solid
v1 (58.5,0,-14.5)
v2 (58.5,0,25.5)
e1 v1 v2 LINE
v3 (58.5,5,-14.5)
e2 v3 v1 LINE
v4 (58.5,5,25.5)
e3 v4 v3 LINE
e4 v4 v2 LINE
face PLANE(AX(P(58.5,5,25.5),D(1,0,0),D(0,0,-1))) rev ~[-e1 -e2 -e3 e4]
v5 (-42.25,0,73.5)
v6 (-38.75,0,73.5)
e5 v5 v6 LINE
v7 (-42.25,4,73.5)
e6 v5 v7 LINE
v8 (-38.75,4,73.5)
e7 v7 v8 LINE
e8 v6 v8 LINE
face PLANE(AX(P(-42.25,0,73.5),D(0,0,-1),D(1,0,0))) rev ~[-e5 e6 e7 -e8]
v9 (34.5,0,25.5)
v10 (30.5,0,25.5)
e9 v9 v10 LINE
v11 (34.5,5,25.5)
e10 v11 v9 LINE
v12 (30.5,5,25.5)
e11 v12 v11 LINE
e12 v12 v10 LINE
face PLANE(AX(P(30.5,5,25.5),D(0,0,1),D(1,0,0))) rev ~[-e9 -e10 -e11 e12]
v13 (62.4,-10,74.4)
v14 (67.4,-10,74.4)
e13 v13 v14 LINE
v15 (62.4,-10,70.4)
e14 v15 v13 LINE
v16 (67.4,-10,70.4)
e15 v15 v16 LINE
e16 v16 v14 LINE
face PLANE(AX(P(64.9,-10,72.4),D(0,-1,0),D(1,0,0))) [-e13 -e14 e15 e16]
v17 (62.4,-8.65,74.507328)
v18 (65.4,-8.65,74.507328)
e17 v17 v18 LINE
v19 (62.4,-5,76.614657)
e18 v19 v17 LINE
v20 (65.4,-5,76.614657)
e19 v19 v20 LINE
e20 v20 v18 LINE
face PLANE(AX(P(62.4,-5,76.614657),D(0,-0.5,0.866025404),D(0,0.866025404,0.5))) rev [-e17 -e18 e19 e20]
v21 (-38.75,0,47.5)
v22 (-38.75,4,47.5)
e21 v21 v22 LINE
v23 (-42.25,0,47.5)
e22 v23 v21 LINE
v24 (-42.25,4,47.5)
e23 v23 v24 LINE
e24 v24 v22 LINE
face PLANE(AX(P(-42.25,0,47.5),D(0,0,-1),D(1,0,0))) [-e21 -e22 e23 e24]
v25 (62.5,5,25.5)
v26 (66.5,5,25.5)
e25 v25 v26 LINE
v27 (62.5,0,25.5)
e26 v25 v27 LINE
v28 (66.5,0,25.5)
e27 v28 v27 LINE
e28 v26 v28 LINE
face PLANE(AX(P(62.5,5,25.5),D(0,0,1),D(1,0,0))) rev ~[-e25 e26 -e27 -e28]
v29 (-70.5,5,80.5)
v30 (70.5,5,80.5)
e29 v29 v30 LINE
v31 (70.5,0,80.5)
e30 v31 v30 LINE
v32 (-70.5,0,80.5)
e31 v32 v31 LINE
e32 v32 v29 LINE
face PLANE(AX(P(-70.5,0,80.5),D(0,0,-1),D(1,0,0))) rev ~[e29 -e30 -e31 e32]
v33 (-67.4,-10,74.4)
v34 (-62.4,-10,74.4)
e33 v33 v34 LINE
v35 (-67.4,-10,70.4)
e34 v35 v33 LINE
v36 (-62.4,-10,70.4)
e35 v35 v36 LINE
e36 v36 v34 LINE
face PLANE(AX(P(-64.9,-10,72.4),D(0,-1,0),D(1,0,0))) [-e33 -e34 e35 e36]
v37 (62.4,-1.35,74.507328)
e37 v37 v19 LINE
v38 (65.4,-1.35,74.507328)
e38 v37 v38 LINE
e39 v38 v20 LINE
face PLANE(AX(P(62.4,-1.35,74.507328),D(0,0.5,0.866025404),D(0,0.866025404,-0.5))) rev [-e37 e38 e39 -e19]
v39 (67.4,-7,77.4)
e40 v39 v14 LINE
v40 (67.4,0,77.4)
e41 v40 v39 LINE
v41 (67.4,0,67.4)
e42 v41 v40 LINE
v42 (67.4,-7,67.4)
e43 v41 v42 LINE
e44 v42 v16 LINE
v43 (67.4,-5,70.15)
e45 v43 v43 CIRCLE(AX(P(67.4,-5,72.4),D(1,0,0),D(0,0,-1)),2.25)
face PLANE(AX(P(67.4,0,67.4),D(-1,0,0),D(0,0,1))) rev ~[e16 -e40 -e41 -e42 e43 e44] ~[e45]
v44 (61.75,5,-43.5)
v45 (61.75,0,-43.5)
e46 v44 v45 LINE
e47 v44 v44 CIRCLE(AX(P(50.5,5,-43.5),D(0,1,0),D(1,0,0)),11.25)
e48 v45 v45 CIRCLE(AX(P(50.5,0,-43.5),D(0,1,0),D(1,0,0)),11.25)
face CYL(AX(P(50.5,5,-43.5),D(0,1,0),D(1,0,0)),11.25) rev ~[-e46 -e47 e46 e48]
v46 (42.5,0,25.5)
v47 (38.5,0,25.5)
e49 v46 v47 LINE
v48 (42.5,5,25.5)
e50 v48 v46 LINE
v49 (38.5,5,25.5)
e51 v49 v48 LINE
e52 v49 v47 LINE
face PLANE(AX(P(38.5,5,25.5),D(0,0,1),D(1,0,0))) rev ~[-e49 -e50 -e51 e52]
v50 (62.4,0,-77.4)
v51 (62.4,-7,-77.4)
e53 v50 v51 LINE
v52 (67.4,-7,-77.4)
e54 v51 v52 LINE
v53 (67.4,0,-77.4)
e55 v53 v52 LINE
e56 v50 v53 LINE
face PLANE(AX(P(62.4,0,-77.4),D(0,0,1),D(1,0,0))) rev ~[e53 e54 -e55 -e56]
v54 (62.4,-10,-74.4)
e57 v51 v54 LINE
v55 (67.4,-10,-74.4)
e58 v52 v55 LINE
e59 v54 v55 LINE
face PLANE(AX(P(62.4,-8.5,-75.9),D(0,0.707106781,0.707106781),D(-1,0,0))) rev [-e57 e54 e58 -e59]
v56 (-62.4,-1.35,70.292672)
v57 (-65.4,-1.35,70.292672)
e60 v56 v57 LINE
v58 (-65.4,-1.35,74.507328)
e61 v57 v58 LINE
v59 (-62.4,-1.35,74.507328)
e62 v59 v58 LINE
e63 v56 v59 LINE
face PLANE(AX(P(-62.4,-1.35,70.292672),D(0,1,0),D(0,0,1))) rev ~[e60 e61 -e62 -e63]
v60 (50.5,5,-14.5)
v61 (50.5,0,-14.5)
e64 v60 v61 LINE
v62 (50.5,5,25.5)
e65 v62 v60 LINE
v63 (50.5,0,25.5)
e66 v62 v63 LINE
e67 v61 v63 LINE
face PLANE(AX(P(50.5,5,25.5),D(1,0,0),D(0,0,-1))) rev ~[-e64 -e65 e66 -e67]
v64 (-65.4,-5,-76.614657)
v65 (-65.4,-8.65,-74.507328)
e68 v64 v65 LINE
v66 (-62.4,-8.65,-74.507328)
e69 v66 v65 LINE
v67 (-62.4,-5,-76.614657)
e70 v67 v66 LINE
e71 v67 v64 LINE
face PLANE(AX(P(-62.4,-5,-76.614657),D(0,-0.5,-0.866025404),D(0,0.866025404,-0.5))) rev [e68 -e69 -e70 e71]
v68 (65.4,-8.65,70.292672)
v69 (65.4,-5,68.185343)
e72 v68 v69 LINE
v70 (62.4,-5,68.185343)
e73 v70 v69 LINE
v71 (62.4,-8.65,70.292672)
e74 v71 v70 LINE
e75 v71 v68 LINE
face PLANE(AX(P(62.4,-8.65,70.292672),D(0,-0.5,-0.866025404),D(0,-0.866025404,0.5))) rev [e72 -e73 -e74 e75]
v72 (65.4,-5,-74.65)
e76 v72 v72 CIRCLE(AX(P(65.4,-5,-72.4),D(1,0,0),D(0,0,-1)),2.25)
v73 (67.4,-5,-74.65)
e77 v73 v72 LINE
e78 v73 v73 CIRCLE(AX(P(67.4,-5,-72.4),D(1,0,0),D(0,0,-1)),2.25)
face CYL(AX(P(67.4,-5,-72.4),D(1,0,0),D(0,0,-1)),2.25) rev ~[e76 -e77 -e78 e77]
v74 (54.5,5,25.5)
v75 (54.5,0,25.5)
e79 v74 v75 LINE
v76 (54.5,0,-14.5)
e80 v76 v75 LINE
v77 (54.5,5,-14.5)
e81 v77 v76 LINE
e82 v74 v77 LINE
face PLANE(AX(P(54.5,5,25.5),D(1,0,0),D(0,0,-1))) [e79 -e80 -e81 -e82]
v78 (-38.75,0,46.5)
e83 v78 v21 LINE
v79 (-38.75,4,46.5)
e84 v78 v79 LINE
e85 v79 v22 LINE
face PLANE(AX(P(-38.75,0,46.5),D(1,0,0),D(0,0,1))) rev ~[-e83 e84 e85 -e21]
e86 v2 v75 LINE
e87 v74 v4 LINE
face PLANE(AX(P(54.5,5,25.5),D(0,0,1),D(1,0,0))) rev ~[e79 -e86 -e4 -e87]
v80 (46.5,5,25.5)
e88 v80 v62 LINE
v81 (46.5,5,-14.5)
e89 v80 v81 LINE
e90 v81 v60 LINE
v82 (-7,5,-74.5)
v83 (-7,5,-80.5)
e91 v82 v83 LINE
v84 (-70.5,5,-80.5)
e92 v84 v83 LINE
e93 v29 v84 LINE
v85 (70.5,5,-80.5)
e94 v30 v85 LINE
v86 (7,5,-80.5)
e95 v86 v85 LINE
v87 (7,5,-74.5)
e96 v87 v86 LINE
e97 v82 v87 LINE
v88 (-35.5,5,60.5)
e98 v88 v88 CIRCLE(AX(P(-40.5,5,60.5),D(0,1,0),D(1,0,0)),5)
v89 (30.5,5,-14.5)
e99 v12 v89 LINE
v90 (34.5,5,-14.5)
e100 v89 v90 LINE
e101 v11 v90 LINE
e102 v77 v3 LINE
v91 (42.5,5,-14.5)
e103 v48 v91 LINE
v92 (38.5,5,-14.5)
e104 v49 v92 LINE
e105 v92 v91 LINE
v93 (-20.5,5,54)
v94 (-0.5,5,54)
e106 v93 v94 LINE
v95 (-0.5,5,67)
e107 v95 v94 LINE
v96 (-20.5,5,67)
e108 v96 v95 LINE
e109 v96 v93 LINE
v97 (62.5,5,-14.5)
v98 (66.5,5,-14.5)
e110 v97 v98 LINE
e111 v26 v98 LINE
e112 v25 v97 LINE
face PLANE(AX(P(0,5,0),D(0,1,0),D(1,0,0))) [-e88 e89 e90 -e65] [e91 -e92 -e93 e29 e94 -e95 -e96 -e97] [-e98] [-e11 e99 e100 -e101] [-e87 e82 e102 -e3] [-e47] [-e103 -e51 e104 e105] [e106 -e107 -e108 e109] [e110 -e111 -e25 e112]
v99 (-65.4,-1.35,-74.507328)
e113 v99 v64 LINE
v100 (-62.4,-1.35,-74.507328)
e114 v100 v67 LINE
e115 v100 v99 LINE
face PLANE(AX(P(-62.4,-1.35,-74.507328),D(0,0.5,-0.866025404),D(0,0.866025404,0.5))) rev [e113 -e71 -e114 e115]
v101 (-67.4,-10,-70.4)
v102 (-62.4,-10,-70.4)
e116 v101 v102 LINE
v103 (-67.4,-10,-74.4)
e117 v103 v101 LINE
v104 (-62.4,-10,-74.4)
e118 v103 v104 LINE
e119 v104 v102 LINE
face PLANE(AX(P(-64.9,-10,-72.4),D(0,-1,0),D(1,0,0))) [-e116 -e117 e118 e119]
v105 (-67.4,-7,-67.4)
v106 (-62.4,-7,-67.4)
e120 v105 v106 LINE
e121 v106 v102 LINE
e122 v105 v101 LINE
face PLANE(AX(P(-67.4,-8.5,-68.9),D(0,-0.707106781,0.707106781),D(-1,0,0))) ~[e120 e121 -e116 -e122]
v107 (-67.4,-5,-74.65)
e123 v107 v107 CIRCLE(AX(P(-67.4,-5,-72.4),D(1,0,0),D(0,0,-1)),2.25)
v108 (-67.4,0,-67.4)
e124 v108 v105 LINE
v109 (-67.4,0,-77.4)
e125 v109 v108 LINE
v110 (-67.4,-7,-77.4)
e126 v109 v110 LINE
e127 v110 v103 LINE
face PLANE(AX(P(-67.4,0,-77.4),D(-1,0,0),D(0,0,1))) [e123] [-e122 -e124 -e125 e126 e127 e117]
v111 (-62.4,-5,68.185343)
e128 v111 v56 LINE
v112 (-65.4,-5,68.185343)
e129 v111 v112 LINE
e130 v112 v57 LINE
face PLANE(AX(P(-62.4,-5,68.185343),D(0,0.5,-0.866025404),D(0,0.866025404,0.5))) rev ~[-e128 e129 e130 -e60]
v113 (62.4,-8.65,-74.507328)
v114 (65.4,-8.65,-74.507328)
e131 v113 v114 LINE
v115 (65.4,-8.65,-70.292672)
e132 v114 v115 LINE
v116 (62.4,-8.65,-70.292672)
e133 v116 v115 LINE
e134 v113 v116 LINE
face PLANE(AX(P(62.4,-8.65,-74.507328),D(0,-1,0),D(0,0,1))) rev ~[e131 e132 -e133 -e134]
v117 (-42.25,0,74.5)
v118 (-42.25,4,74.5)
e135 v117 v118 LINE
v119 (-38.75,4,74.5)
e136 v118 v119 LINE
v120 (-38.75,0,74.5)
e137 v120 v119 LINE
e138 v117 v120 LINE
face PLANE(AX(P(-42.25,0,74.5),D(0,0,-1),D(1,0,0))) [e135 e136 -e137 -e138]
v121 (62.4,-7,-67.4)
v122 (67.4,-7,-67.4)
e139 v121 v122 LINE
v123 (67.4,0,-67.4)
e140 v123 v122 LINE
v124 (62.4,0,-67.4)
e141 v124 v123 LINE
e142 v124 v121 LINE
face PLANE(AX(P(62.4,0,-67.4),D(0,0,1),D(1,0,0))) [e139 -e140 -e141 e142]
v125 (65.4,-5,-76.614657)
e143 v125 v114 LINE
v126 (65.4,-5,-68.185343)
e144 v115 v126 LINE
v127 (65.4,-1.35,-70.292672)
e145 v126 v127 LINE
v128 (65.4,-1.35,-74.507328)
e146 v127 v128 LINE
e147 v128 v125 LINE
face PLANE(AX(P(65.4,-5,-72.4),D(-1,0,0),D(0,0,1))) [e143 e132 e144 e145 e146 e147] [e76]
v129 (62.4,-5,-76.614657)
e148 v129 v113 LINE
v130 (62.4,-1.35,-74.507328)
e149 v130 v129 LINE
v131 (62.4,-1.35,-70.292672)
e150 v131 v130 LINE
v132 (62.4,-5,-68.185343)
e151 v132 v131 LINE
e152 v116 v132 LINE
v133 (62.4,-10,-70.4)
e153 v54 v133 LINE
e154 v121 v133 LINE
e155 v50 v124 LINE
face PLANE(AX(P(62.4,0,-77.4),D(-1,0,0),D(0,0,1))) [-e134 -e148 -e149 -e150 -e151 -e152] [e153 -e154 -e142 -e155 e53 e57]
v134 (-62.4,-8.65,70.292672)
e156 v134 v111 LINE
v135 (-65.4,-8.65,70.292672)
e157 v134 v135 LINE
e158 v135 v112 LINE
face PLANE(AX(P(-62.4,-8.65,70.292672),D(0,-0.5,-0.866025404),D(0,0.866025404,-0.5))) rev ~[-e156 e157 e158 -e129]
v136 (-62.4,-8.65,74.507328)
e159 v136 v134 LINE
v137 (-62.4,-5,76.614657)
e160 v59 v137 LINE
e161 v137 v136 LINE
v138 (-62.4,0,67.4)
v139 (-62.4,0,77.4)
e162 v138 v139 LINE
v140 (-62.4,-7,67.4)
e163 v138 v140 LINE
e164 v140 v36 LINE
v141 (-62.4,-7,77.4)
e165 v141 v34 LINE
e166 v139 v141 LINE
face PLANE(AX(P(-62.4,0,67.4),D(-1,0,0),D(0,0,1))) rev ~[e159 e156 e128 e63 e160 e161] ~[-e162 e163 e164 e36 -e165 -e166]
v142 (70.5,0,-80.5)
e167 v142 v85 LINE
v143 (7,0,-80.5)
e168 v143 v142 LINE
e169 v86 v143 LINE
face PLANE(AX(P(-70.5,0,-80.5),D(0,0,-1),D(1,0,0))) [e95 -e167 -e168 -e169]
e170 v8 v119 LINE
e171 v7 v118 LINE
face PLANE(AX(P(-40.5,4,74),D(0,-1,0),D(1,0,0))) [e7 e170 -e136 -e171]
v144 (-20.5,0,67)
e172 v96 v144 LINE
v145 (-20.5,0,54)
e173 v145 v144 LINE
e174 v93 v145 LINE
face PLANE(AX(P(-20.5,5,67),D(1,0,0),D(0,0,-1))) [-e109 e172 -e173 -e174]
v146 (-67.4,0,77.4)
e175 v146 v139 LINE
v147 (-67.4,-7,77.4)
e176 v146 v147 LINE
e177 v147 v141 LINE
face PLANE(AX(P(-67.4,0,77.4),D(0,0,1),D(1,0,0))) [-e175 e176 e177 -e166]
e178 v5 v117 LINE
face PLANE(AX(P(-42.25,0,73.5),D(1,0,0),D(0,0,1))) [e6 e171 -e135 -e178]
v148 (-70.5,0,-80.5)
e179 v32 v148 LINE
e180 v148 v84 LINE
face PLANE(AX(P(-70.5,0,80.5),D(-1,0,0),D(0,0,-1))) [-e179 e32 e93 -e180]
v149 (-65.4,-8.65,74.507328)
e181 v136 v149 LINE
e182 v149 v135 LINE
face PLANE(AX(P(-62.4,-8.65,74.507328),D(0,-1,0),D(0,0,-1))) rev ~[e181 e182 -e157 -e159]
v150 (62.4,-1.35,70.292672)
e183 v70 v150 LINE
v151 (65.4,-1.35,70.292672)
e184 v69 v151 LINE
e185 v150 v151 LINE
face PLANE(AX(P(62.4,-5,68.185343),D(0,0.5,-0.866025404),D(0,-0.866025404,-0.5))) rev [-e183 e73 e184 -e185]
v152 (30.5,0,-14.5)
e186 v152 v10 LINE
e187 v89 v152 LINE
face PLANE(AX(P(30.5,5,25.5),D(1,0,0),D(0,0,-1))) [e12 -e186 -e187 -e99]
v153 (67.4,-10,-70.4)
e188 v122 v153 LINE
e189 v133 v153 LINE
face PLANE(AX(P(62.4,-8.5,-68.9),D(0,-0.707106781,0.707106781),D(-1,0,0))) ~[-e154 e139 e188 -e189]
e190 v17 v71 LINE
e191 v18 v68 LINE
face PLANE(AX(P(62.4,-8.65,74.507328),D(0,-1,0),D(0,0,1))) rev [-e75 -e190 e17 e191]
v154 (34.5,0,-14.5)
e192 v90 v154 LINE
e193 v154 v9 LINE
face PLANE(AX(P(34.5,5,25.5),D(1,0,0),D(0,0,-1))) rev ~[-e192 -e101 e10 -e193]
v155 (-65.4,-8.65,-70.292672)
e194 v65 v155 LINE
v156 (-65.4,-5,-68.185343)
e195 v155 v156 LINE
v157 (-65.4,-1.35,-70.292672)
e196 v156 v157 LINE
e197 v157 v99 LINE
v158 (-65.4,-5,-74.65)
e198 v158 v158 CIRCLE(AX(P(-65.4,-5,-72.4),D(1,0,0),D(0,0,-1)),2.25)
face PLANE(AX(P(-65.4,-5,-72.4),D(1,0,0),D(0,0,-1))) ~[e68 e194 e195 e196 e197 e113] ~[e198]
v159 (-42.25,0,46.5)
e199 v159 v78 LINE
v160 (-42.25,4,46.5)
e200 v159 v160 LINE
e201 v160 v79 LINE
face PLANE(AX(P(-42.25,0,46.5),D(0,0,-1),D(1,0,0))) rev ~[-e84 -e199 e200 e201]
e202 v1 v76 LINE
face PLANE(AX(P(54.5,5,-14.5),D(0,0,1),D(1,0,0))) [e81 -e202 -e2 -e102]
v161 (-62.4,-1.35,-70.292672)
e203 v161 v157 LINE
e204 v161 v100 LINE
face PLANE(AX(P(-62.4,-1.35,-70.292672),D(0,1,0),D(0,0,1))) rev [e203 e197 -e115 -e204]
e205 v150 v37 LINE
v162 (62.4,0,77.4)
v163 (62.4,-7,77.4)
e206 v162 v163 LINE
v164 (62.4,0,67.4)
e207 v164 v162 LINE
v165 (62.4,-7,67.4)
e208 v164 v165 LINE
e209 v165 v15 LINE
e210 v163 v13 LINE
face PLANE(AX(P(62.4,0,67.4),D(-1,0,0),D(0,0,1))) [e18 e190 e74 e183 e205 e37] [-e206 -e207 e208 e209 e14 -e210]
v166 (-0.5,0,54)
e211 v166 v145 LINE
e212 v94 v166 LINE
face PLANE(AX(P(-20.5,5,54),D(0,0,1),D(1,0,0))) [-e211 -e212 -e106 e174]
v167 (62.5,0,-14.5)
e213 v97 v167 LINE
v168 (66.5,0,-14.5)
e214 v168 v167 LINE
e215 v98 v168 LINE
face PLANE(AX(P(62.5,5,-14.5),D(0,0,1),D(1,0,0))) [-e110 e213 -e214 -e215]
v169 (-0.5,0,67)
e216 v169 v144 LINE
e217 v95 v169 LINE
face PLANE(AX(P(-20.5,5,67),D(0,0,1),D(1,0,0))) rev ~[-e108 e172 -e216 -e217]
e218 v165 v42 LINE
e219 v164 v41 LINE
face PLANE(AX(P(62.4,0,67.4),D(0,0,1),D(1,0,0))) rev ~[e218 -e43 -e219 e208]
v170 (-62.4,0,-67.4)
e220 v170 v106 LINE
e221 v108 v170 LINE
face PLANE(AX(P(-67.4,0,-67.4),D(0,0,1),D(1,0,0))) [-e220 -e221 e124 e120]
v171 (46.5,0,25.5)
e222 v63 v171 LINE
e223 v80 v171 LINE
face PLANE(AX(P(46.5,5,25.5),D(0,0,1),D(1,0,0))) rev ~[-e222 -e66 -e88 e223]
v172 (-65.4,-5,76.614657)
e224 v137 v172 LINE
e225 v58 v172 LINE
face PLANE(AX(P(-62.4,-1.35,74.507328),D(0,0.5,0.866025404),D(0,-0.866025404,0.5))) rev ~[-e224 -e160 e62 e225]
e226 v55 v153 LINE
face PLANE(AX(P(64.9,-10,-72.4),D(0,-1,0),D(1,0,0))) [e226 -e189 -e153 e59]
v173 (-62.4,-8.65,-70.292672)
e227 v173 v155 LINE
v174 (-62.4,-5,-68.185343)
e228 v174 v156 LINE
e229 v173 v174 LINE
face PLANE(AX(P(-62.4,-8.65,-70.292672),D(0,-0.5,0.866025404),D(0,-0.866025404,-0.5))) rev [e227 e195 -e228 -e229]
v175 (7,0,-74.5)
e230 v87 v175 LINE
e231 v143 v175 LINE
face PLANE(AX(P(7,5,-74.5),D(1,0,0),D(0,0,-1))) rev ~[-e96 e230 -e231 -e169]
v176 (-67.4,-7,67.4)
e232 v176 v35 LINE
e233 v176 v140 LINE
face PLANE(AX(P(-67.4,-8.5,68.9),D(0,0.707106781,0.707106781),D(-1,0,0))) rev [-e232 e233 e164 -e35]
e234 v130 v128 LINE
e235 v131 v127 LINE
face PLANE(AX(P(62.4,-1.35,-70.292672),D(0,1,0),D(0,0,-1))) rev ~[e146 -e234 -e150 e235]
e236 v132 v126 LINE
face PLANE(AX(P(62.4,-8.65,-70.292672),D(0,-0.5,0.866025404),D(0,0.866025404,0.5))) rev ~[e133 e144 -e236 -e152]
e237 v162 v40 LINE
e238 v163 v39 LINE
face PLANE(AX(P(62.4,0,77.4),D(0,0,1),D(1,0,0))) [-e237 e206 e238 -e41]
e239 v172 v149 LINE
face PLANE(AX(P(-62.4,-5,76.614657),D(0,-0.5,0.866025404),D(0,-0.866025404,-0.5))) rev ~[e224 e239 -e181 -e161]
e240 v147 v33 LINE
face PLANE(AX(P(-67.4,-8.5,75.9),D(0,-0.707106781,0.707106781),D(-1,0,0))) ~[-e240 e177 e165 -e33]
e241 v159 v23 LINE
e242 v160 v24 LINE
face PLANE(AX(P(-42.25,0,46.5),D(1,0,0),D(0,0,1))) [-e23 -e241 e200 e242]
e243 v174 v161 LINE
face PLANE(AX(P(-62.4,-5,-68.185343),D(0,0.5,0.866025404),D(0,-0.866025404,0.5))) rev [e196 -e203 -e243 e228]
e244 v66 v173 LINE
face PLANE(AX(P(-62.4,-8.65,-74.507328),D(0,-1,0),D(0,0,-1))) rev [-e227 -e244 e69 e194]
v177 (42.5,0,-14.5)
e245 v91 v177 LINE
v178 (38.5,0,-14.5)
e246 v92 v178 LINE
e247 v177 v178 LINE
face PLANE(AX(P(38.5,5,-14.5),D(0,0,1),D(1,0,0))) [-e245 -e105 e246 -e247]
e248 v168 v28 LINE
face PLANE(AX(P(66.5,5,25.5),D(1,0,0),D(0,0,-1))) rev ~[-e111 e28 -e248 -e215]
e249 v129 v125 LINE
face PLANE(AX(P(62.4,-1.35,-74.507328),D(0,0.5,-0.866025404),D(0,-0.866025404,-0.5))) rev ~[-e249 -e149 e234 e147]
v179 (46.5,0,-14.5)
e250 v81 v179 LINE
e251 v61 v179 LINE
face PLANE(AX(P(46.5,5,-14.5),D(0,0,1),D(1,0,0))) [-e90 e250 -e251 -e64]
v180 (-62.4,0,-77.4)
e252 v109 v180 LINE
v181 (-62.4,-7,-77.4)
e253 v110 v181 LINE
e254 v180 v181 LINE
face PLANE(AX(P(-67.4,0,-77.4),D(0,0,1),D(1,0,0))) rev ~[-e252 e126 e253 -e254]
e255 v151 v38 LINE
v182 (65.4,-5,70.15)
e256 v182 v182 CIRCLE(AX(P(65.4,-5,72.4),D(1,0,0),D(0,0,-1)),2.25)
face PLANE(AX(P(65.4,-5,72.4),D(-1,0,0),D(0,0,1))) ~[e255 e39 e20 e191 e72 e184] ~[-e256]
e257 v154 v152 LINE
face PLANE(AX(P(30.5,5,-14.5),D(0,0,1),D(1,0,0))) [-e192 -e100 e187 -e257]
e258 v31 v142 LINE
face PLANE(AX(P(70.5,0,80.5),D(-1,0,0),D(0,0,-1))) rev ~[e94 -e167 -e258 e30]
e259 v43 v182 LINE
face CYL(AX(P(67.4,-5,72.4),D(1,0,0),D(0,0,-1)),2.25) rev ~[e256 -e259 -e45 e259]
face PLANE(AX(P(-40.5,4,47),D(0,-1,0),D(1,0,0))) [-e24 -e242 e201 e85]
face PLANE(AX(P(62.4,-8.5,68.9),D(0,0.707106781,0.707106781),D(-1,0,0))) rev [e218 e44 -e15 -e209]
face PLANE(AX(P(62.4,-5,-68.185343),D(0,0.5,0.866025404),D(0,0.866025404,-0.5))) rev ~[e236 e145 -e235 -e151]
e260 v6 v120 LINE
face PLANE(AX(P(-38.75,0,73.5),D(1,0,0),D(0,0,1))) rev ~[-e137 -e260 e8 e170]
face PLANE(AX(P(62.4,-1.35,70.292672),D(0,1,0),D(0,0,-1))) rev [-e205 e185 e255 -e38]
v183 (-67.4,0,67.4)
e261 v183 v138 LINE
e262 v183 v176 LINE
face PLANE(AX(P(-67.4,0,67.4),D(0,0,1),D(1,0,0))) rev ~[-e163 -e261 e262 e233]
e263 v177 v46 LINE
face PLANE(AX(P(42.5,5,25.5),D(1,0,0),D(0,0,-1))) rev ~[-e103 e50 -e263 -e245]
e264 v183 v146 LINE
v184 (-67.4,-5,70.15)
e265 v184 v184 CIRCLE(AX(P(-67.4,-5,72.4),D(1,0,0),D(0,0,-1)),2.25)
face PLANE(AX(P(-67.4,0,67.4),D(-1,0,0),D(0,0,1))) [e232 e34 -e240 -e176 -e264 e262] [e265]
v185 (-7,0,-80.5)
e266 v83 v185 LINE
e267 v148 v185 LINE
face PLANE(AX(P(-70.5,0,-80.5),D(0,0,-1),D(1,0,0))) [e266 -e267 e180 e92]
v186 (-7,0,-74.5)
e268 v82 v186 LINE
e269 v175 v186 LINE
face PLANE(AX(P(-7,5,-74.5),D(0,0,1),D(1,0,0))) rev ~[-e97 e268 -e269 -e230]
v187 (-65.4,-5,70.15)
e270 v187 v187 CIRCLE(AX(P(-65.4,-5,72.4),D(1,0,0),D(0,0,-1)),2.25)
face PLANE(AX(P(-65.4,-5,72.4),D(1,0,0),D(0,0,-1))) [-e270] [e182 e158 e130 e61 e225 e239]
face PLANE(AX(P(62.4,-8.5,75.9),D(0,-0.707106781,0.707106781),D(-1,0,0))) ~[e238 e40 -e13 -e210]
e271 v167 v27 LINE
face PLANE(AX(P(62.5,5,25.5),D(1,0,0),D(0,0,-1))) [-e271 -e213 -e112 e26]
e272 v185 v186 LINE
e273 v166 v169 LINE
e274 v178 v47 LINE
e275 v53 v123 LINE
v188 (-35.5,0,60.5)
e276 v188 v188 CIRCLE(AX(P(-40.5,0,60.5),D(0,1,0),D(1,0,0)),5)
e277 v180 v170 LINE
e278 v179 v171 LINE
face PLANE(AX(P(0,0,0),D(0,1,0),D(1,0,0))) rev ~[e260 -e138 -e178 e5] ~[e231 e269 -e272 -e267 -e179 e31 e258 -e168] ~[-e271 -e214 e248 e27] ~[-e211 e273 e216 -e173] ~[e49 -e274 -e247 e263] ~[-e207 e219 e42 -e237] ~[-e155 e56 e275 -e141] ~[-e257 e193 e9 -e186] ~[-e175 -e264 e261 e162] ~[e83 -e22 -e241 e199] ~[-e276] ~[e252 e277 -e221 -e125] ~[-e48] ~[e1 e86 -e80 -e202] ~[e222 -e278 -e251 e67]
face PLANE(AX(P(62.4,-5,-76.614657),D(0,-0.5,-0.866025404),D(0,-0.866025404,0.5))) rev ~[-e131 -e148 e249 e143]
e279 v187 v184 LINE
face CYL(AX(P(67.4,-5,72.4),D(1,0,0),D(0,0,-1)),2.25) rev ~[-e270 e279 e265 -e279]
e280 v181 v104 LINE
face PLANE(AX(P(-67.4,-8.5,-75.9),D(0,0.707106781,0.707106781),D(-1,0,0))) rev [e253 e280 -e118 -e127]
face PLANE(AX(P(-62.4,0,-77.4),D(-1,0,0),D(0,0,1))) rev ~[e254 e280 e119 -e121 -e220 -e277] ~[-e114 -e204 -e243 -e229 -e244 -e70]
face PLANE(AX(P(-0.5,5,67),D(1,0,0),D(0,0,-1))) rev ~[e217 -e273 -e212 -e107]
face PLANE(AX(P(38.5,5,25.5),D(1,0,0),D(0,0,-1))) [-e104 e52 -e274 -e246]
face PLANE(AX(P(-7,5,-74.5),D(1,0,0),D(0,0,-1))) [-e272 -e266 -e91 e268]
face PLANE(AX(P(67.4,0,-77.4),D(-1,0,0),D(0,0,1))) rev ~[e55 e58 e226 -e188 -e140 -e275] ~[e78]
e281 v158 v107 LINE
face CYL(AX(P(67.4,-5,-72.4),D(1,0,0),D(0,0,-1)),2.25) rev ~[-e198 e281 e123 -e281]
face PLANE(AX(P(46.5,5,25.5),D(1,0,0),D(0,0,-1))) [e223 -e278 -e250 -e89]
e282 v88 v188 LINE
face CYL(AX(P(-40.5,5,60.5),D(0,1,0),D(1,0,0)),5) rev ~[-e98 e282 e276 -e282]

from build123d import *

# Parameters (mm, degrees)
SKETCH1_W                      = 141
SKETCH1_H                      = 161
BOSS_EXTRUDE1_DEPTH            = 5
CUT_EXTRUDE1_REACH             = 7
SKETCH2_R                      = 11.25
CUT_EXTRUDE1_DIRECTION_2_DEPTH = 1
CUT_EXTRUDE2_REACH             = 7
SKETCH3_W                      = 4
SKETCH3_H                      = 40
SKETCH4_W                      = 5
SKETCH4_H                      = 10
BOSS_EXTRUDE2_DEPTH            = 10
SKETCH5_R                      = 2.25
CUT_EXTRUDE3_DEPTH             = 4.1
CUT_EXTRUDE3_DEPTH_BACK        = 138.9
CUT_EXTRUDE4_DEPTH             = 3
CHAMFER1_SIZE                  = 3
MIRROR4_COPY_1_DEPTH           = 3
CUT_EXTRUDE5_REACH             = 17
SKETCH7_R                      = 5
SKETCH7_W                      = 20
SKETCH7_H                      = 13
CUT_EXTRUDE5_DIRECTION_2_DEPTH = 1
SKETCH8_W                      = 3.5
SKETCH8_H                      = 1
CUT_EXTRUDE6_DEPTH             = 11
CUT_EXTRUDE6_DEPTH_BACK        = 4
CUT_EXTRUDE7_REACH             = 17
SKETCH9_W                      = 14
SKETCH9_H                      = 6
CUT_EXTRUDE7_DIRECTION_2_DEPTH = 1


with BuildPart() as part:
    # Sketch1 → Boss-Extrude1 (new body)
    with BuildSketch(Plane(origin=(0, 0, 0), x_dir=(1, 0, 0), z_dir=(0, 1, 0))):
        Rectangle(SKETCH1_W, SKETCH1_H)
    extrude(amount=BOSS_EXTRUDE1_DEPTH)

    # Sketch2 → Cut-Extrude1 (cut, up to next)
    with BuildSketch(Plane(origin=(0, 5, 0), x_dir=(1, 0, 0), z_dir=(0, 1, 0)), mode=Mode.PRIVATE) as cut_extrude1_sk1:
        with Locations((50.5, 43.5)):
            Circle(SKETCH2_R)
    cut_extrude1_tool1 = extrude(cut_extrude1_sk1.sketch, amount=-CUT_EXTRUDE1_REACH, mode=Mode.PRIVATE) & part.part
    add(cut_extrude1_tool1.solids().sort_by_distance((50.5, 5, -43.5))[0], mode=Mode.SUBTRACT)

    # Sketch2 → Cut-Extrude1 direction 2 (cut)
    with BuildSketch(Plane(origin=(0, 5, 0), x_dir=(1, 0, 0), z_dir=(0, 1, 0))):
        with Locations((50.5, 43.5)):
            Circle(SKETCH2_R)
    extrude(amount=CUT_EXTRUDE1_DIRECTION_2_DEPTH, mode=Mode.SUBTRACT)

    # Sketch3 → Cut-Extrude2 (cut, up to next)
    with BuildSketch(Plane(origin=(0, 5, 0), x_dir=(1, 0, 0), z_dir=(0, 1, 0)), mode=Mode.PRIVATE) as cut_extrude2_sk1:
        with Locations((40.5, -5.5)):
            Rectangle(SKETCH3_W, SKETCH3_H)
    cut_extrude2_tool1 = extrude(cut_extrude2_sk1.sketch, amount=-CUT_EXTRUDE2_REACH, mode=Mode.PRIVATE) & part.part
    add(cut_extrude2_tool1.solids().sort_by_distance((40.5, 5, 5.5))[0], mode=Mode.SUBTRACT)
    # Sketch3 → Cut-Extrude2 (cut, up to next)
    with BuildSketch(Plane(origin=(0, 5, 0), x_dir=(1, 0, 0), z_dir=(0, 1, 0)), mode=Mode.PRIVATE) as cut_extrude2_sk2:
        with Locations((32.5, -5.5)):
            Rectangle(SKETCH3_W, SKETCH3_H)
    cut_extrude2_tool2 = extrude(cut_extrude2_sk2.sketch, amount=-CUT_EXTRUDE2_REACH, mode=Mode.PRIVATE) & part.part
    add(cut_extrude2_tool2.solids().sort_by_distance((32.5, 5, 5.5))[0], mode=Mode.SUBTRACT)
    # Sketch3 → Cut-Extrude2 (cut, up to next)
    with BuildSketch(Plane(origin=(0, 5, 0), x_dir=(1, 0, 0), z_dir=(0, 1, 0)), mode=Mode.PRIVATE) as cut_extrude2_sk3:
        with Locations((48.5, -5.5)):
            Rectangle(SKETCH3_W, SKETCH3_H)
    cut_extrude2_tool3 = extrude(cut_extrude2_sk3.sketch, amount=-CUT_EXTRUDE2_REACH, mode=Mode.PRIVATE) & part.part
    add(cut_extrude2_tool3.solids().sort_by_distance((48.5, 5, 5.5))[0], mode=Mode.SUBTRACT)
    # Sketch3 → Cut-Extrude2 (cut, up to next)
    with BuildSketch(Plane(origin=(0, 5, 0), x_dir=(1, 0, 0), z_dir=(0, 1, 0)), mode=Mode.PRIVATE) as cut_extrude2_sk4:
        with Locations((56.5, -5.5)):
            Rectangle(SKETCH3_W, SKETCH3_H)
    cut_extrude2_tool4 = extrude(cut_extrude2_sk4.sketch, amount=-CUT_EXTRUDE2_REACH, mode=Mode.PRIVATE) & part.part
    add(cut_extrude2_tool4.solids().sort_by_distance((56.5, 5, 5.5))[0], mode=Mode.SUBTRACT)
    # Sketch3 → Cut-Extrude2 (cut, up to next)
    with BuildSketch(Plane(origin=(0, 5, 0), x_dir=(1, 0, 0), z_dir=(0, 1, 0)), mode=Mode.PRIVATE) as cut_extrude2_sk5:
        with Locations((64.5, -5.5)):
            Rectangle(SKETCH3_W, SKETCH3_H)
    cut_extrude2_tool5 = extrude(cut_extrude2_sk5.sketch, amount=-CUT_EXTRUDE2_REACH, mode=Mode.PRIVATE) & part.part
    add(cut_extrude2_tool5.solids().sort_by_distance((64.5, 5, 5.5))[0], mode=Mode.SUBTRACT)

    # Sketch4 → Boss-Extrude2 (add)
    with BuildSketch(Plane.XZ):
        with Locations((64.9, 72.4)):
            Rectangle(SKETCH4_W, SKETCH4_H)
        with Locations((-64.9, 72.4)):
            Rectangle(SKETCH4_W, SKETCH4_H)
        with Locations((64.9, -72.4)):
            Rectangle(SKETCH4_W, SKETCH4_H)
        with Locations((-64.9, -72.4)):
            Rectangle(SKETCH4_W, SKETCH4_H)
    extrude(amount=BOSS_EXTRUDE2_DEPTH)

    # Sketch5 → Cut-Extrude3 (cut, two sides)
    with BuildSketch(Plane(origin=(67.4, 0, 0), x_dir=(0, 0, -1), z_dir=(1, 0, 0))) as cut_extrude3_sk:
        with Locations((-72.4, -5)):
            Circle(SKETCH5_R)
        with Locations((72.4, -5)):
            Circle(SKETCH5_R)
    extrude(amount=CUT_EXTRUDE3_DEPTH, mode=Mode.SUBTRACT)
    extrude(cut_extrude3_sk.sketch, amount=-CUT_EXTRUDE3_DEPTH_BACK, mode=Mode.SUBTRACT)

    # Sketch6 → Cut-Extrude4 (cut)
    with BuildSketch(Plane(origin=(-62.4, 0, 0), x_dir=(0, 0, -1), z_dir=(1, 0, 0))):
        Polygon((-68.185343035, -5), (-70.292671517, -1.35), (-74.507328483, -1.35), (-76.614656965, -5), (-74.507328483, -8.65), (-70.292671517, -8.65), align=None)
    cut_extrude4 = extrude(amount=-CUT_EXTRUDE4_DEPTH, mode=Mode.SUBTRACT)

    # Chamfer1
    chamfer1_edges = [part.edges().sort_by_distance(p)[0] for p in [
        (-64.9, -10, 77.4),
        (-64.9, -10, 67.4),
        (64.9, -10, -77.4),
        (64.9, -10, -67.4),
        (-64.9, -10, -77.4),
        (-64.9, -10, -67.4),
        (64.9, -10, 67.4),
        (64.9, -10, 77.4),
    ]]
    chamfer(chamfer1_edges, length=CHAMFER1_SIZE)

    # Mirror3: Cut-Extrude4 across plane
    add(cut_extrude4.mirror(Plane(origin=(0, 0, 0), x_dir=(0, 0, 1), z_dir=(1, 0, 0))), mode=Mode.SUBTRACT)

    # Mirror4: Cut-Extrude4 across plane
    add(cut_extrude4.mirror(Plane.XY), mode=Mode.SUBTRACT)

    # Mirror4 copy 1 sketch → Mirror4 copy 1 (cut)
    with BuildSketch(Plane.ZY.offset(-62.4)):
        Polygon((-68.185343035, -5), (-70.292671517, -1.35), (-74.507328483, -1.35), (-76.614656965, -5), (-74.507328483, -8.65), (-70.292671517, -8.65), align=None)
    extrude(amount=-MIRROR4_COPY_1_DEPTH, mode=Mode.SUBTRACT)

    # Sketch7 → Cut-Extrude5 (cut, up to next)
    with BuildSketch(Plane(origin=(0, 5, 0), x_dir=(1, 0, 0), z_dir=(0, 1, 0)), mode=Mode.PRIVATE) as cut_extrude5_sk1:
        with Locations((-40.5, -60.5)):
            Circle(SKETCH7_R)
    cut_extrude5_tool1 = extrude(cut_extrude5_sk1.sketch, amount=-CUT_EXTRUDE5_REACH, mode=Mode.PRIVATE) & part.part
    add(cut_extrude5_tool1.solids().sort_by_distance((-40.5, 5, 60.5))[0], mode=Mode.SUBTRACT)
    # Sketch7 → Cut-Extrude5 (cut, up to next)
    with BuildSketch(Plane(origin=(0, 5, 0), x_dir=(1, 0, 0), z_dir=(0, 1, 0)), mode=Mode.PRIVATE) as cut_extrude5_sk2:
        with Locations((-10.5, -60.5)):
            Rectangle(SKETCH7_W, SKETCH7_H)
    cut_extrude5_tool2 = extrude(cut_extrude5_sk2.sketch, amount=-CUT_EXTRUDE5_REACH, mode=Mode.PRIVATE) & part.part
    add(cut_extrude5_tool2.solids().sort_by_distance((-10.5, 5, 60.5))[0], mode=Mode.SUBTRACT)

    # Sketch7 → Cut-Extrude5 direction 2 (cut)
    with BuildSketch(Plane(origin=(0, 5, 0), x_dir=(1, 0, 0), z_dir=(0, 1, 0))):
        with Locations((-40.5, -60.5)):
            Circle(SKETCH7_R)
        with Locations((-10.5, -60.5)):
            Rectangle(SKETCH7_W, SKETCH7_H)
    extrude(amount=CUT_EXTRUDE5_DIRECTION_2_DEPTH, mode=Mode.SUBTRACT)

    # Sketch8 → Cut-Extrude6 (cut, two sides)
    with BuildSketch(Plane.XZ) as cut_extrude6_sk:
        with Locations((-40.5, 74)):
            Rectangle(SKETCH8_W, SKETCH8_H)
        with Locations((-40.5, 47)):
            Rectangle(SKETCH8_W, SKETCH8_H)
    extrude(amount=CUT_EXTRUDE6_DEPTH, mode=Mode.SUBTRACT)
    extrude(cut_extrude6_sk.sketch, amount=-CUT_EXTRUDE6_DEPTH_BACK, mode=Mode.SUBTRACT)

    # Sketch9 → Cut-Extrude7 (cut, up to next)
    with BuildSketch(Plane(origin=(0, 5, 0), x_dir=(1, 0, 0), z_dir=(0, 1, 0)), mode=Mode.PRIVATE) as cut_extrude7_sk1:
        with Locations((0, 77.5)):
            Rectangle(SKETCH9_W, SKETCH9_H)
    cut_extrude7_tool1 = extrude(cut_extrude7_sk1.sketch, amount=-CUT_EXTRUDE7_REACH, mode=Mode.PRIVATE) & part.part
    add(cut_extrude7_tool1.solids().sort_by_distance((0, 5, -77.5))[0], mode=Mode.SUBTRACT)

    # Sketch9 → Cut-Extrude7 direction 2 (cut)
    with BuildSketch(Plane(origin=(0, 5, 0), x_dir=(1, 0, 0), z_dir=(0, 1, 0))):
        with Locations((0, 77.5)):
            Rectangle(SKETCH9_W, SKETCH9_H)
    extrude(amount=CUT_EXTRUDE7_DIRECTION_2_DEPTH, mode=Mode.SUBTRACT)


solid = part.part
